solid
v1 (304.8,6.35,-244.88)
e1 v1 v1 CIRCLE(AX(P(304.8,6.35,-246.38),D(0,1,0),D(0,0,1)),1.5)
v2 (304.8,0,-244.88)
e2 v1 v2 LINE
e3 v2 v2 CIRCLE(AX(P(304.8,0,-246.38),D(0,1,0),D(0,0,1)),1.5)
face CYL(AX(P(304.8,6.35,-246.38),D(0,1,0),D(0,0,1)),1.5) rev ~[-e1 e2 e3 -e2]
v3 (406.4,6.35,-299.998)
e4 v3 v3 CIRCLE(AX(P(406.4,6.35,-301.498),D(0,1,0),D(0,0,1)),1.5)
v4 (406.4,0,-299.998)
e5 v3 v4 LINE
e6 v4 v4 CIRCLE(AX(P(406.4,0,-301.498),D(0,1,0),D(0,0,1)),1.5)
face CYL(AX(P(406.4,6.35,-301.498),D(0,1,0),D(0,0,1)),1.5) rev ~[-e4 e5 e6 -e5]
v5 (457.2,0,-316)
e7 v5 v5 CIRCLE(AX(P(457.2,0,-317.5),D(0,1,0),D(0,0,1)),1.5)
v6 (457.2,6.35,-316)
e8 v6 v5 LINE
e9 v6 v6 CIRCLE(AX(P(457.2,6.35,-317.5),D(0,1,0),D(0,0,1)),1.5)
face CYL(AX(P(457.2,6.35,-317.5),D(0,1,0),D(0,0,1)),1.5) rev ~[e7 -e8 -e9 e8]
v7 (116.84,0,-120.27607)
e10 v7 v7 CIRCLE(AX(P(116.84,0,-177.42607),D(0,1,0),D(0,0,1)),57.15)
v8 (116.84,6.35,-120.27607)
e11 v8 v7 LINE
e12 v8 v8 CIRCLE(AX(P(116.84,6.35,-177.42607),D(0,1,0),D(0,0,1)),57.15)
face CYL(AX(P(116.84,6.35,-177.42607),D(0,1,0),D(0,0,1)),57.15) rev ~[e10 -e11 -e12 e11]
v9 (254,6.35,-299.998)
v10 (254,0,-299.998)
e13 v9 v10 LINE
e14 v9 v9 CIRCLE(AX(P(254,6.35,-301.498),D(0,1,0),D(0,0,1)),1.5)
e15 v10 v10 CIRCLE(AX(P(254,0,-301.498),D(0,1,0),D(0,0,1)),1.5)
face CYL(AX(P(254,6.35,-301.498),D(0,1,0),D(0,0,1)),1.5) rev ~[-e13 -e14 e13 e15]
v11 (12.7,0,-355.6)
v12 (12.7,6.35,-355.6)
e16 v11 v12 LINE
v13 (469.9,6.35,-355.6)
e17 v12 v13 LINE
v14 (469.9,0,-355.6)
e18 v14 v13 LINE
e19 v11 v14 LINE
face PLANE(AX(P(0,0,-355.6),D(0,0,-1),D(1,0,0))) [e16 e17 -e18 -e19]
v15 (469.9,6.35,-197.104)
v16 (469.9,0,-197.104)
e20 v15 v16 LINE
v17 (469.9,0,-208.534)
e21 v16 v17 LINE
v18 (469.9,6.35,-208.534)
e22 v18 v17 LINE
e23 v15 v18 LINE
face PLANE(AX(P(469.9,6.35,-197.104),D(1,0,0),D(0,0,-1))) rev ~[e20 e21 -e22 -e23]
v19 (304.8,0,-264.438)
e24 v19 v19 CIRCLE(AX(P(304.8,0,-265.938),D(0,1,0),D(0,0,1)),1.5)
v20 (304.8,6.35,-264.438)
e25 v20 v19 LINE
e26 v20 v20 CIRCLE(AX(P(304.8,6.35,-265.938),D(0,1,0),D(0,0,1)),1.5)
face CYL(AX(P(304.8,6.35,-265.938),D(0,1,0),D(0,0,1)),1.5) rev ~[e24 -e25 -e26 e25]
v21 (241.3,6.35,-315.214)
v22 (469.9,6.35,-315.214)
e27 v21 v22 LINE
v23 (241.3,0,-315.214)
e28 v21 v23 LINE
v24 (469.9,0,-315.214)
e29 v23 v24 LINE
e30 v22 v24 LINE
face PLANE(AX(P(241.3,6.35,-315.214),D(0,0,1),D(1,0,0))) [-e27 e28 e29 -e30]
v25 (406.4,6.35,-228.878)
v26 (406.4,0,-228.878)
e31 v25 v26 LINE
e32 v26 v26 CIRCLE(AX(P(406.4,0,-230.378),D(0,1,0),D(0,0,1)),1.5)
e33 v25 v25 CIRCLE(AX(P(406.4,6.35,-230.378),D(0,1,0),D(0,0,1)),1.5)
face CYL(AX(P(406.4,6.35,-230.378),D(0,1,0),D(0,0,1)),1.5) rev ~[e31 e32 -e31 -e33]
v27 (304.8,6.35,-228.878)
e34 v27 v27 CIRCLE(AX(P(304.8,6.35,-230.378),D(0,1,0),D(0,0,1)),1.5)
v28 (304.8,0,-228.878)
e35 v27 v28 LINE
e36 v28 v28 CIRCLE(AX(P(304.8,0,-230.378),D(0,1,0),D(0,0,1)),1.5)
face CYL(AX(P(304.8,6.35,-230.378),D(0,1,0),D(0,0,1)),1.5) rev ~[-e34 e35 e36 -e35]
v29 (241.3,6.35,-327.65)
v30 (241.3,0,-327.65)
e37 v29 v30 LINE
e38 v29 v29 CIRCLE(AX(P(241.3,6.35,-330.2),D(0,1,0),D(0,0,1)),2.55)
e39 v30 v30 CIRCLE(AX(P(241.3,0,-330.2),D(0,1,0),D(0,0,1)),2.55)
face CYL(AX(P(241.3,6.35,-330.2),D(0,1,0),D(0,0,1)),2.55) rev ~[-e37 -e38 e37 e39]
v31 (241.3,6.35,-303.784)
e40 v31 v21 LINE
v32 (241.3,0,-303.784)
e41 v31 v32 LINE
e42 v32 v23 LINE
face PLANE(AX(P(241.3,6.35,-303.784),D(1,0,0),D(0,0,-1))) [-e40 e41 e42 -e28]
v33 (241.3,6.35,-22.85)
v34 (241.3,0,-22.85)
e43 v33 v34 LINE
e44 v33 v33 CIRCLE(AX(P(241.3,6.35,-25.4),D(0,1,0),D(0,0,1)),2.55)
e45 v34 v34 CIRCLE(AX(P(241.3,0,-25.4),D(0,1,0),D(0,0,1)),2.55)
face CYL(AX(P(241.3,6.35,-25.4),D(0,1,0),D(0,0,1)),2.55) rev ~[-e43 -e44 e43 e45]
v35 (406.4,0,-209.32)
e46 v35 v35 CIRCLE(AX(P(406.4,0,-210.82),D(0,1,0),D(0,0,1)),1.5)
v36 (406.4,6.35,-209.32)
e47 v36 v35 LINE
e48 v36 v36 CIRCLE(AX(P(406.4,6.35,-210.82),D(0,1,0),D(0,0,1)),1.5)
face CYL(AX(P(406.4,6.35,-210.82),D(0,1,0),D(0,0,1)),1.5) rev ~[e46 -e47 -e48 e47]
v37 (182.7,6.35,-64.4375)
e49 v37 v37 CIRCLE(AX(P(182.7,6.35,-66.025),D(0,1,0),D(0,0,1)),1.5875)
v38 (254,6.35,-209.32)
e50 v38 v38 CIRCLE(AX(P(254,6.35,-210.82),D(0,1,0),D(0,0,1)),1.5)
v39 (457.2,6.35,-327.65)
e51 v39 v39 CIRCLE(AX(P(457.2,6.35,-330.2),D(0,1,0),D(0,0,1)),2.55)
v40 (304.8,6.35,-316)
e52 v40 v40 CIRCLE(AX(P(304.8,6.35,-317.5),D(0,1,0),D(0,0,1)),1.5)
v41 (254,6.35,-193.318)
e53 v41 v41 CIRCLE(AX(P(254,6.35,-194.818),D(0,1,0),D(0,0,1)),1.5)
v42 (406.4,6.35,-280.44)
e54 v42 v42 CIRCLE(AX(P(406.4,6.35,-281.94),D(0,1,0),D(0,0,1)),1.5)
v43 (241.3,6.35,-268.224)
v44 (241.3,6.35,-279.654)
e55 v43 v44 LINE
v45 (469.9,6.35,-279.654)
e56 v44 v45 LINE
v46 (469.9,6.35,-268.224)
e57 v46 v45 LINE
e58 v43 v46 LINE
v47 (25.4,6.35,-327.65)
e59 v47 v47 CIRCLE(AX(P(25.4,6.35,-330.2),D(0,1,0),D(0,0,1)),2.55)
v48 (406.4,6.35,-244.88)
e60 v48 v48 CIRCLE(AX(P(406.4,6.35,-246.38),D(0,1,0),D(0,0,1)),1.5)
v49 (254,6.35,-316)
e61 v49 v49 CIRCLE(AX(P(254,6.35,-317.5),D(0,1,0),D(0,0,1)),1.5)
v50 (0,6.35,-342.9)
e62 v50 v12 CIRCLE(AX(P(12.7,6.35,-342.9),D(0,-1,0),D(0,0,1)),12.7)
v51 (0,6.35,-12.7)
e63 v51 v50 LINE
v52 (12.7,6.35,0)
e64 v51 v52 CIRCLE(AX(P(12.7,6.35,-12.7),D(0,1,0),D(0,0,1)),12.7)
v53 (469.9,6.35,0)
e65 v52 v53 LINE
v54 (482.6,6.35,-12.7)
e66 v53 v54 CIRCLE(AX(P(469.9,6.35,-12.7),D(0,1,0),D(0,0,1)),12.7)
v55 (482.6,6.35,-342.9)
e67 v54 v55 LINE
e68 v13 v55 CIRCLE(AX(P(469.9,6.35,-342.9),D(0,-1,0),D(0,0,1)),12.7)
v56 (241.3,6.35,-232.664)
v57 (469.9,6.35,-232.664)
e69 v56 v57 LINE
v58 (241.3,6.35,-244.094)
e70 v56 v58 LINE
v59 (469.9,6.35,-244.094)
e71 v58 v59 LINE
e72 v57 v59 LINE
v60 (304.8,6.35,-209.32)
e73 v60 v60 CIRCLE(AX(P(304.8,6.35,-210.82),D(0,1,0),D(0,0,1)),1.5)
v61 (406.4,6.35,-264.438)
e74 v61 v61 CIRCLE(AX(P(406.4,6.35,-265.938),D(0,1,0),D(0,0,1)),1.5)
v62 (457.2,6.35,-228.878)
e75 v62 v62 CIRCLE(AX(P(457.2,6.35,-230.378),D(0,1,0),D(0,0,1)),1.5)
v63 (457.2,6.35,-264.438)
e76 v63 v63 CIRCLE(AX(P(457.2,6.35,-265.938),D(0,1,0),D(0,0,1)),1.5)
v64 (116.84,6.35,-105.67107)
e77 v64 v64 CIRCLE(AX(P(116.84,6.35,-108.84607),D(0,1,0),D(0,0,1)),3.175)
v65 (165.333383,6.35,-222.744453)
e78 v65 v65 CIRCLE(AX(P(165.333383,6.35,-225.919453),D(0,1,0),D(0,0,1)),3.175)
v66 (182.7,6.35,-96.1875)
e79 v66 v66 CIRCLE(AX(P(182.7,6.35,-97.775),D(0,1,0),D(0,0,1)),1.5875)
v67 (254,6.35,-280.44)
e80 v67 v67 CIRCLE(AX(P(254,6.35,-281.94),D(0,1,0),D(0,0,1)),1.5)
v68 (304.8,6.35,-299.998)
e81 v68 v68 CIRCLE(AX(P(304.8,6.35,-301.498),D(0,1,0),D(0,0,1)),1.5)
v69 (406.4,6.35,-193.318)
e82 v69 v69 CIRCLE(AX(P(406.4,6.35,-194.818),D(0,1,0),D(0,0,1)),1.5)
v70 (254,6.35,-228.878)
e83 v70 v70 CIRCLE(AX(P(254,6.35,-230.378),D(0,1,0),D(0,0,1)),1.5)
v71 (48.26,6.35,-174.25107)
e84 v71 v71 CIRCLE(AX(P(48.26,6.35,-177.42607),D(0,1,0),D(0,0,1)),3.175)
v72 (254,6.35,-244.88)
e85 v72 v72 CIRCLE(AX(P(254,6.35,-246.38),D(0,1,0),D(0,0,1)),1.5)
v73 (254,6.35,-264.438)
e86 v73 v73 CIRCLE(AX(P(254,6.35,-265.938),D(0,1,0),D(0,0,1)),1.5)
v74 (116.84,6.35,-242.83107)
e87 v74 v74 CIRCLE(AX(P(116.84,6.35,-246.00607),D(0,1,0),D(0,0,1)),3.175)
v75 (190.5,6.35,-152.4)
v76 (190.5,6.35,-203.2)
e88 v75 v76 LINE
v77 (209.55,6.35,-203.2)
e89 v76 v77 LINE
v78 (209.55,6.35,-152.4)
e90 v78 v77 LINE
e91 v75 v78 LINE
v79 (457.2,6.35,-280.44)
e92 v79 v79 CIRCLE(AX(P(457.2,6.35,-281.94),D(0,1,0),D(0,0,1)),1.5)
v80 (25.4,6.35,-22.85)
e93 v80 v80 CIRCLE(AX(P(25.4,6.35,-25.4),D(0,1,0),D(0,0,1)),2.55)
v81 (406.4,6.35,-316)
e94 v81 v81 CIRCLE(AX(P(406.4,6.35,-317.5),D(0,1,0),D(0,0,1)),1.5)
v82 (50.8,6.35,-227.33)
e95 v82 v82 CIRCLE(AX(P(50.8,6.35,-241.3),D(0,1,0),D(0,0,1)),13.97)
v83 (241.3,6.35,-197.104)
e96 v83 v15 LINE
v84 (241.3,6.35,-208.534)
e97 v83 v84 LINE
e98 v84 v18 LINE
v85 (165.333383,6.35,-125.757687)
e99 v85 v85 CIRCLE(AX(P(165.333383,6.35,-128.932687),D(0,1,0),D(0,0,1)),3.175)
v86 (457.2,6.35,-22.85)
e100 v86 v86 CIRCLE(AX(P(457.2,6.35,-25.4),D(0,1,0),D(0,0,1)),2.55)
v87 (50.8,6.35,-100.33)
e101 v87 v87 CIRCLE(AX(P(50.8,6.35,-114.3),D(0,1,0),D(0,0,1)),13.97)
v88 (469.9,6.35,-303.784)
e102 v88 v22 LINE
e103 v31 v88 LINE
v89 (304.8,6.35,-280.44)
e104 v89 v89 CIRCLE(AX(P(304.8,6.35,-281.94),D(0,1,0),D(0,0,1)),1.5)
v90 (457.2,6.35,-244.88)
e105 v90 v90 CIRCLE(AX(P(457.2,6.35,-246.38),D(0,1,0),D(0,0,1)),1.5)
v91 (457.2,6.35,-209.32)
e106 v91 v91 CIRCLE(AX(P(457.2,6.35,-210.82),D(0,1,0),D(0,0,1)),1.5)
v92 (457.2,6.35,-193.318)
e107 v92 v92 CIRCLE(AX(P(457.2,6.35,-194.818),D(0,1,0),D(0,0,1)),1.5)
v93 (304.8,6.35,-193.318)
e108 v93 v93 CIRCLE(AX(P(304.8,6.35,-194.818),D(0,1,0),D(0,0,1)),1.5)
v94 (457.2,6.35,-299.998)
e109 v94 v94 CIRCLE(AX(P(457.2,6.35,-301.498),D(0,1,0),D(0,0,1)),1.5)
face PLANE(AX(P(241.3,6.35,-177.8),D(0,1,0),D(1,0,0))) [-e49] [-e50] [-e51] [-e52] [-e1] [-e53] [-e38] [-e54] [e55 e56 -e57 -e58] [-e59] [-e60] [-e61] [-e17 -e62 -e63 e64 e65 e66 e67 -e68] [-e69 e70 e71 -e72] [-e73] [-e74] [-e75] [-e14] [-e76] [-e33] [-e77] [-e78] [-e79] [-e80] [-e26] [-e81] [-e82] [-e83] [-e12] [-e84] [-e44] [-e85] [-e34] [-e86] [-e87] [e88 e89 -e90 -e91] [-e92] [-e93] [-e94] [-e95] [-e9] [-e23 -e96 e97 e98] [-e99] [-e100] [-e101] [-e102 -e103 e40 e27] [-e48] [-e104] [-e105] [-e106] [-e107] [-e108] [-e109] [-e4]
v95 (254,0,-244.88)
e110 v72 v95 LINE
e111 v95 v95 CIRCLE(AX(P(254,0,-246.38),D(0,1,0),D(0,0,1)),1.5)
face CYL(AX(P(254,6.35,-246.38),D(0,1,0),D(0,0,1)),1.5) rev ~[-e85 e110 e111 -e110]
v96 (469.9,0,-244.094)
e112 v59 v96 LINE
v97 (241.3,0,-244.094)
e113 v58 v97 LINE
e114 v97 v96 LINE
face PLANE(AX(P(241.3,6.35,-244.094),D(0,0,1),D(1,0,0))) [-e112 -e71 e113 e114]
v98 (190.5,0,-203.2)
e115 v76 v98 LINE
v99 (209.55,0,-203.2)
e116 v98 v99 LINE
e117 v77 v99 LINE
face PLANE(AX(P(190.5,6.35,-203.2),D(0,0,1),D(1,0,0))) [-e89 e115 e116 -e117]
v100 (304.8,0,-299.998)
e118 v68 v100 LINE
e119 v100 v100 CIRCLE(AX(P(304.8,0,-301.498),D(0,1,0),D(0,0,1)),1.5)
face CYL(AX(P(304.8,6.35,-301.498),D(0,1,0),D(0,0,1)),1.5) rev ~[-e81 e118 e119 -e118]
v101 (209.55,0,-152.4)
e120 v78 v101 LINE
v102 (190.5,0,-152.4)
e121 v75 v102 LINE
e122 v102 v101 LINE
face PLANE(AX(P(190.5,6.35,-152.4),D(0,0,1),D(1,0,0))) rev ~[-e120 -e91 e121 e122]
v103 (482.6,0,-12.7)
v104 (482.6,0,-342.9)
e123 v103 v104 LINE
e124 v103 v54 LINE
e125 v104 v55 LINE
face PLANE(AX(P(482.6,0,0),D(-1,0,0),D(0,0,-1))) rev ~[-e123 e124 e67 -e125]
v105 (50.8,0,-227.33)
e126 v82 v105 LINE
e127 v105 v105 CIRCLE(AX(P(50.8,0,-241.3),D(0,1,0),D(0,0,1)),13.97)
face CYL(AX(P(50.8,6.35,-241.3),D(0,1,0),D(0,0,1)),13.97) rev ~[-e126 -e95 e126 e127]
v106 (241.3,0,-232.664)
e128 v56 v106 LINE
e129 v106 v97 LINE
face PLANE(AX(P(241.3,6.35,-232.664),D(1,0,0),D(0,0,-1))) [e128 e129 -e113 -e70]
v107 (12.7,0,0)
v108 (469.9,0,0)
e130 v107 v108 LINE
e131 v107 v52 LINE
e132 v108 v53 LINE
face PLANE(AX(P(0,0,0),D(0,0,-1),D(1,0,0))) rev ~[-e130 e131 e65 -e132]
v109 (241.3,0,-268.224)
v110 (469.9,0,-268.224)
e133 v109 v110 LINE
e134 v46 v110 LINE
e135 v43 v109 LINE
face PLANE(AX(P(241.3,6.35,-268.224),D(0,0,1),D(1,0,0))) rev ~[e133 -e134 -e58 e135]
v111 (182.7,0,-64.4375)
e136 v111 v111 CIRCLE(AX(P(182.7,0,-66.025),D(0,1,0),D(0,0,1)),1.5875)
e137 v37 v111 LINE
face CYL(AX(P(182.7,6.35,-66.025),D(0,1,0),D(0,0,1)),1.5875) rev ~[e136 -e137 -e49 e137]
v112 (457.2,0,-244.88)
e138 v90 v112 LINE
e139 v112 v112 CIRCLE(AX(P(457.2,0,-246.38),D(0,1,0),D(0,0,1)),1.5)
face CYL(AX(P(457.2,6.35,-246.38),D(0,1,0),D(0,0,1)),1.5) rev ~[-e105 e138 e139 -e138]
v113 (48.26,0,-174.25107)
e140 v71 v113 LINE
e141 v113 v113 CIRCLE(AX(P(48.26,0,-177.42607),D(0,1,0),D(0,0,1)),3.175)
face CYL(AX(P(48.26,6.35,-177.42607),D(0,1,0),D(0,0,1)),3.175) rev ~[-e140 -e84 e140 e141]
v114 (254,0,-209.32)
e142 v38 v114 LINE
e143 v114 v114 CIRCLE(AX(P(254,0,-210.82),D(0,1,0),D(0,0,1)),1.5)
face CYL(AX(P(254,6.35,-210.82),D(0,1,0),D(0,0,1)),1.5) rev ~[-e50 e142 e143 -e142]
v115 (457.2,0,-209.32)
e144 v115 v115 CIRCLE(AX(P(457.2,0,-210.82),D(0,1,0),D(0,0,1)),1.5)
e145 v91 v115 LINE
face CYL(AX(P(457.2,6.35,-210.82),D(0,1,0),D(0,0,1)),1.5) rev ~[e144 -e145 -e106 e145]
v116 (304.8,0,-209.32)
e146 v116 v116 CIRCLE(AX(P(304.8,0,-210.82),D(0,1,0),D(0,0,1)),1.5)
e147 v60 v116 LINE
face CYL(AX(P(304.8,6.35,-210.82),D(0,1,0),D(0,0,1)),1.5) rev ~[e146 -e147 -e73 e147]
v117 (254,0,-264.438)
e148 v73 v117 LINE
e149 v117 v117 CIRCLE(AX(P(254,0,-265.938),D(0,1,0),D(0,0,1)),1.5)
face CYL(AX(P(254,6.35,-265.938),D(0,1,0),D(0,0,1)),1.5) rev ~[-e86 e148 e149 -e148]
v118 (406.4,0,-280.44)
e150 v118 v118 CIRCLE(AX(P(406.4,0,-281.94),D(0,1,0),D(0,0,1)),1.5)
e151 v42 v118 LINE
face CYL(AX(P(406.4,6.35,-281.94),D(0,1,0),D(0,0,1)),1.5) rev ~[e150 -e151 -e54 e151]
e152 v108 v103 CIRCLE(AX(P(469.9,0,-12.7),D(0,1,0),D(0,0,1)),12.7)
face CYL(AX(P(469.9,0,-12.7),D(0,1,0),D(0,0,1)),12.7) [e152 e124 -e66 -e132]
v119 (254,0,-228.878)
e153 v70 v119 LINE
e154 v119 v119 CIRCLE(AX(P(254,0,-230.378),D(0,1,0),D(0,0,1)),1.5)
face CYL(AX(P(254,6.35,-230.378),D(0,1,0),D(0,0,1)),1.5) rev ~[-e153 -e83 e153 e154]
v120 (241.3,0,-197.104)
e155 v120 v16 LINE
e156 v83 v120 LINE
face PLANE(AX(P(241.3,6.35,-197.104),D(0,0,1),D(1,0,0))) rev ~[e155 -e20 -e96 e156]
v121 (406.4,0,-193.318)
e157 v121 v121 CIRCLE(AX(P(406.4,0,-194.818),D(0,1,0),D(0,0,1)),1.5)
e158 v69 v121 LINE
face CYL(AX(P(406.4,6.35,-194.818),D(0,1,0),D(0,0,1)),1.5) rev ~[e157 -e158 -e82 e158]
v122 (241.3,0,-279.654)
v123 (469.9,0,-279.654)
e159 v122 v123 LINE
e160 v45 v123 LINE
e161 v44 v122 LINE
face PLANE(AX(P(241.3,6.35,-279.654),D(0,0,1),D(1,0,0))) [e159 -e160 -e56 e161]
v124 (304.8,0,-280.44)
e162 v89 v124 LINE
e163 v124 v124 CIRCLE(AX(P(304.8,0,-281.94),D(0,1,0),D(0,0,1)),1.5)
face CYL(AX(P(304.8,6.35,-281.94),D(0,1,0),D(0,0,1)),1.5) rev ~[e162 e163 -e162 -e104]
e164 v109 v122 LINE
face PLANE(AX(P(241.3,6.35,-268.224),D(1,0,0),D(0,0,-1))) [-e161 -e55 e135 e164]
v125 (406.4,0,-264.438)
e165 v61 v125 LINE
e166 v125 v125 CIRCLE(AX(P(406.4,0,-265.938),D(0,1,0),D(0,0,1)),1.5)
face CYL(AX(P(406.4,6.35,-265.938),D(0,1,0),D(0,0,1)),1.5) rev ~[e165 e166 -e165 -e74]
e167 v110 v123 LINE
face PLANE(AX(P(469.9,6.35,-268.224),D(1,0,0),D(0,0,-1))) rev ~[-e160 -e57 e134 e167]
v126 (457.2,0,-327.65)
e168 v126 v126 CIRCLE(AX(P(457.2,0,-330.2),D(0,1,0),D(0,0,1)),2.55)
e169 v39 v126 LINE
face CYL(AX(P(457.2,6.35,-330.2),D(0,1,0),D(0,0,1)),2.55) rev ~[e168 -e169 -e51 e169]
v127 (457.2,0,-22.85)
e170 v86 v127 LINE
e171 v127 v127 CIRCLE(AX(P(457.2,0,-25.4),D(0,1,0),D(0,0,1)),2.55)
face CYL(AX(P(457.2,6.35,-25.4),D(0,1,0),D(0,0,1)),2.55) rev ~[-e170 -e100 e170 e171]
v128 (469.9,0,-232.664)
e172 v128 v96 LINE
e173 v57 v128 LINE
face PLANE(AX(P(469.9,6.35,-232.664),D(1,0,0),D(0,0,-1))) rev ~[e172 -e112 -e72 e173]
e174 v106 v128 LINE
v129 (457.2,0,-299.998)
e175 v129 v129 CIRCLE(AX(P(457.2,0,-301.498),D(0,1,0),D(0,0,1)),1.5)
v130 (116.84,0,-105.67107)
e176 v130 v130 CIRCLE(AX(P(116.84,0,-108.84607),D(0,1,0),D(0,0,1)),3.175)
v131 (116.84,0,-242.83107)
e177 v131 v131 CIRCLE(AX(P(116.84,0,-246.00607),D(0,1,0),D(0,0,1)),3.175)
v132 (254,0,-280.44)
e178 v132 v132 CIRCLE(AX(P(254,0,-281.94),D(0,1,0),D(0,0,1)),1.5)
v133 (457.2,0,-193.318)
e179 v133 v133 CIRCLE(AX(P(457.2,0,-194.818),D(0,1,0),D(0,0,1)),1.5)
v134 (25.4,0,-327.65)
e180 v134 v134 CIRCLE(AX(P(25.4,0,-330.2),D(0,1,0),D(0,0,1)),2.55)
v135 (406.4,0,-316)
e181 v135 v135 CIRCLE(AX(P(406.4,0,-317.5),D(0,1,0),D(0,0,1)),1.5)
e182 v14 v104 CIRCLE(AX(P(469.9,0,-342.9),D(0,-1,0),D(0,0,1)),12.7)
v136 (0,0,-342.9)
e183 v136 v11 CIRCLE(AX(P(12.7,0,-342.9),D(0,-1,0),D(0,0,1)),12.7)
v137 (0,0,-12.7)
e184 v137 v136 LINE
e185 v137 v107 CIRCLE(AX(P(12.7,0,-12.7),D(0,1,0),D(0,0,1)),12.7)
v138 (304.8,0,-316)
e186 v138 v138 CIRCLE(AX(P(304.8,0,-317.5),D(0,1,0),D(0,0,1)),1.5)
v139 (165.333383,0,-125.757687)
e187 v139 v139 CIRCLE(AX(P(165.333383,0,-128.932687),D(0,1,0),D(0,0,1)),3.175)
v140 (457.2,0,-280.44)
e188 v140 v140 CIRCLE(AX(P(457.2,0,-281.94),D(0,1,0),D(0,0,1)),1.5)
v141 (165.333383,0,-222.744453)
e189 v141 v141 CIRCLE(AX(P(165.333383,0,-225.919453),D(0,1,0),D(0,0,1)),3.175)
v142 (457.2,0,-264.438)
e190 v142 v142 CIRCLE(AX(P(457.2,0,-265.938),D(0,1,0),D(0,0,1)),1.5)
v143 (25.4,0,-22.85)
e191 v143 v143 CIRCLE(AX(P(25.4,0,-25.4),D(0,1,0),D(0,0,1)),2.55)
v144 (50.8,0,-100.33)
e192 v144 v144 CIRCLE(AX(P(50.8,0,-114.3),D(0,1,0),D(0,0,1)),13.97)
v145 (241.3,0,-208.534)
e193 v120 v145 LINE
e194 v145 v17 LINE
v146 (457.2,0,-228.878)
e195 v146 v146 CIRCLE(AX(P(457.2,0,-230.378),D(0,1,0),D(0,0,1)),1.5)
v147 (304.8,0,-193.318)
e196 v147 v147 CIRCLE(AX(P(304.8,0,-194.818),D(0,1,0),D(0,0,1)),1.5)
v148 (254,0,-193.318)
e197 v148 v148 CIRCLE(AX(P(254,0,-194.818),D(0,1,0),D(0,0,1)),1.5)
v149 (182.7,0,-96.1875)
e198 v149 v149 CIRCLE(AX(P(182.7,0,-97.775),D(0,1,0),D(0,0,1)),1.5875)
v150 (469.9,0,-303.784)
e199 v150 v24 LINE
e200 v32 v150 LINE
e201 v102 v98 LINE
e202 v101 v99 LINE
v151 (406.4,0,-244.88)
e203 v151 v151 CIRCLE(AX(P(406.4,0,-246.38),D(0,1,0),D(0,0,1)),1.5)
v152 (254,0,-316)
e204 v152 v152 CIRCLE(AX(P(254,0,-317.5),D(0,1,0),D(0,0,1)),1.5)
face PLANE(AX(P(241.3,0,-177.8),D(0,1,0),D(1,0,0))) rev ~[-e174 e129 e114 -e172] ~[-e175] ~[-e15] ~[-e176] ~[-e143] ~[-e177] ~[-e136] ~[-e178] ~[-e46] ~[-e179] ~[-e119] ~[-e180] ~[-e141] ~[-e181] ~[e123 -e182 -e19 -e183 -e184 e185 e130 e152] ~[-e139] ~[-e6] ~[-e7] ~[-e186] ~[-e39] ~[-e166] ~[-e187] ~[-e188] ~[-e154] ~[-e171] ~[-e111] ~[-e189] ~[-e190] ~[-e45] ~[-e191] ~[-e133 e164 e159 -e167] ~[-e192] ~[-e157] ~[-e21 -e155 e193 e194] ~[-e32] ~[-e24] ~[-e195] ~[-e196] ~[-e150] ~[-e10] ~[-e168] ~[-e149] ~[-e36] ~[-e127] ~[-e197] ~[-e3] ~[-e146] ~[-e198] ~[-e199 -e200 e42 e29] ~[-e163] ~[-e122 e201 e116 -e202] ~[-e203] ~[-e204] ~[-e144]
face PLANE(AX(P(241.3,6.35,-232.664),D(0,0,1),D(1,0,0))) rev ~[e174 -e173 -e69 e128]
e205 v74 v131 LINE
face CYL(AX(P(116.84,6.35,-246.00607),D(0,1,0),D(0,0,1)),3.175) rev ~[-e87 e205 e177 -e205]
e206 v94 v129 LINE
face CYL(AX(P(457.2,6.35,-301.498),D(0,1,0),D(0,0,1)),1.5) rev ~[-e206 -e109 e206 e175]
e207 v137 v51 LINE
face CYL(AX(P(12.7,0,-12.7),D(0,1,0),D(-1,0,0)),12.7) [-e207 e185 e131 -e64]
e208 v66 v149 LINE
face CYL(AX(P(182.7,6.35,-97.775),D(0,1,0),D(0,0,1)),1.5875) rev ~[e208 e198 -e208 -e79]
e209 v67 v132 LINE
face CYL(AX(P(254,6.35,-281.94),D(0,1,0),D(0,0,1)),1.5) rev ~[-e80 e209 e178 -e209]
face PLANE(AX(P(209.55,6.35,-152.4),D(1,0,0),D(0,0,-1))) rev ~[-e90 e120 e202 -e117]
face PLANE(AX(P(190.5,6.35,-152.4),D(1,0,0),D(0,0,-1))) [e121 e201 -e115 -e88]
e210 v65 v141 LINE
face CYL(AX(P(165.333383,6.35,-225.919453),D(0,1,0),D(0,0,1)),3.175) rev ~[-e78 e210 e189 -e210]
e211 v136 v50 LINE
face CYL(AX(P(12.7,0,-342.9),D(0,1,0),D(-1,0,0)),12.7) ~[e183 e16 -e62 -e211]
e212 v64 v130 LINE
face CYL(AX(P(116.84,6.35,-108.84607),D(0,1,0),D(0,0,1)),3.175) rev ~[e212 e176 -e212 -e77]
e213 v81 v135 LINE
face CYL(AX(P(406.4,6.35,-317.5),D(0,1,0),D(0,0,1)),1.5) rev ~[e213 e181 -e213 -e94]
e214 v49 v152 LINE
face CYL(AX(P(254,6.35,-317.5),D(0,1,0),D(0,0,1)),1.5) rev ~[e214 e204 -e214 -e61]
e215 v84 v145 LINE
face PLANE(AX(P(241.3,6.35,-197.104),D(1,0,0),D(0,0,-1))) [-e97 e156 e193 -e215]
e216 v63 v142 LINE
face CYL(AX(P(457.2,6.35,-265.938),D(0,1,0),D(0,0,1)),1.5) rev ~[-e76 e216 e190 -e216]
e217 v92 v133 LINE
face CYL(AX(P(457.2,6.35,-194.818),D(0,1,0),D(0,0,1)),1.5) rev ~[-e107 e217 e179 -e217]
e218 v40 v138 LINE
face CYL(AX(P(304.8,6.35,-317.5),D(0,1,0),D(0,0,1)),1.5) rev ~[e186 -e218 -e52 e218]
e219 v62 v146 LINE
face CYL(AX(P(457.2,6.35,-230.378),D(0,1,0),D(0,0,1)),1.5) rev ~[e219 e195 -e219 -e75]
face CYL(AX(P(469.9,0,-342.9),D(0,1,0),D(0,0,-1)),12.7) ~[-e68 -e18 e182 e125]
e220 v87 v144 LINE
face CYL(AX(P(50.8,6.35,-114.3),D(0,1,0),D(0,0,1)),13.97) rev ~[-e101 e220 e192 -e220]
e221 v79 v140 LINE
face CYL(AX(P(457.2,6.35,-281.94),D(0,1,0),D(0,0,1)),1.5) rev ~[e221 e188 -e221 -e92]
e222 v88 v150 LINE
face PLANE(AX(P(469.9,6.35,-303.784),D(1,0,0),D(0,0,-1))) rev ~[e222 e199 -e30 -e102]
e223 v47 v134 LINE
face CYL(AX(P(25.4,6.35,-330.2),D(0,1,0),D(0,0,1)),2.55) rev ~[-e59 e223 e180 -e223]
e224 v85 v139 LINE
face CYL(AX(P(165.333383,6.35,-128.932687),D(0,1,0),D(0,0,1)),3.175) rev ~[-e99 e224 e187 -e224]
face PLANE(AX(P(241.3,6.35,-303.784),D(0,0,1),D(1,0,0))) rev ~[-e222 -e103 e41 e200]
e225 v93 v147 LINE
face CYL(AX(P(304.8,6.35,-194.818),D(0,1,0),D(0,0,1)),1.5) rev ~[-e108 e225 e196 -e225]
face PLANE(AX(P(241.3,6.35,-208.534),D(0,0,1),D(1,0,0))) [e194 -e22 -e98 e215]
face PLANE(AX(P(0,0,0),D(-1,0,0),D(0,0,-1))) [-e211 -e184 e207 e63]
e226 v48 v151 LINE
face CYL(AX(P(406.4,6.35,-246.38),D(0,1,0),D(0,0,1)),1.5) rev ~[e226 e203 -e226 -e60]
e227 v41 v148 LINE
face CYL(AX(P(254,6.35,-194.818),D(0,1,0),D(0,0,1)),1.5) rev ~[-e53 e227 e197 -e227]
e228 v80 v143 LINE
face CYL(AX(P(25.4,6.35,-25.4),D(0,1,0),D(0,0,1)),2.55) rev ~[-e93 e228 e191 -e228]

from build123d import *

# Parameters (mm, degrees)
SKETCH1_W           = 482.6
SKETCH1_H           = 355.6
BOSS_EXTRUDE1_DEPTH = 6.35
SKETCH2_R           = 2.55
CUT_EXTRUDE1_DEPTH  = 600.495156361
FILLET1_R           = 12.7
SKETCH5_R           = 1.5
CUT_EXTRUDE4_DEPTH  = 600.495156361
SKETCH8_W           = 19.05
SKETCH8_H           = 50.8
CUT_EXTRUDE7_DEPTH  = 63.5
CUT_EXTRUDE9_DEPTH  = 6.35
SKETCH12_R          = 14
SKETCH12_W          = 12.7
SKETCH12_H          = 10.884798806
CUT_EXTRUDE11_DEPTH = 63.5
SKETCH13_W          = 220.004592511
SKETCH13_H          = 264.065052174
BOSS_EXTRUDE2_DEPTH = 6.35
SKETCH15_R          = 13.97
CUT_EXTRUDE13_DEPTH = 600.495156361
LPATTERN1_COUNT     = 4
LPATTERN1_PITCH     = 35.56
SKETCH17_W          = 228.6
SKETCH17_H          = 11.43
CUT_EXTRUDE14_DEPTH = 600.495156361
SKETCH18_W          = 19.05
SKETCH18_H          = 50.8
CUT_EXTRUDE15_DEPTH = 600.495156361
SKETCH19_R          = 1.5875
CUT_EXTRUDE16_DEPTH = 600.495156361
SKETCH20_R          = 57.15
CUT_EXTRUDE17_DEPTH = 600.495156361
SKETCH21_R          = 3.175
CUT_EXTRUDE18_DEPTH = 600.495156361


with BuildPart() as part:
    # Sketch1 → Boss-Extrude1 (new body)
    with BuildSketch(Plane(origin=(0, 0, 0), x_dir=(1, 0, 0), z_dir=(0, 1, 0))):
        with Locations((241.3, 177.8)):
            Rectangle(SKETCH1_W, SKETCH1_H)
    extrude(amount=BOSS_EXTRUDE1_DEPTH)

    # Sketch2 → Cut-Extrude1 (cut, through all)
    with BuildSketch(Plane(origin=(0, 6.35, 0), x_dir=(1, 0, 0), z_dir=(0, 1, 0))):
        with Locations(Location((25.4, 330.2, 0), (0, 0, 270))):
            Circle(SKETCH2_R)
        with Locations(Location((241.3, 330.2, 0), (0, 0, 270))):
            Circle(SKETCH2_R)
        with Locations(Location((457.2, 330.2, 0), (0, 0, 270))):
            Circle(SKETCH2_R)
        with Locations(Location((241.3, 25.4, 0), (0, 0, 270))):
            Circle(SKETCH2_R)
        with Locations(Location((457.2, 25.4, 0), (0, 0, 270))):
            Circle(SKETCH2_R)
        with Locations(Location((25.4, 25.4, 0), (0, 0, 270))):
            Circle(SKETCH2_R)
    extrude(amount=-CUT_EXTRUDE1_DEPTH, mode=Mode.SUBTRACT)

    # Fillet1
    fillet1_edges = [part.edges().sort_by_distance(p)[0] for p in [
        (0, 3.175, -355.6),
        (482.6, 3.175, -355.6),
        (482.6, 3.175, 0),
        (0, 3.175, 0),
    ]]
    fillet(fillet1_edges, radius=FILLET1_R)

    # Sketch5 → Cut-Extrude4 (cut, through all)
    with BuildSketch(Plane(origin=(0, 6.35, 0), x_dir=(1, 0, 0), z_dir=(0, 1, 0))):
        with Locations(Location((254, 317.5, 0), (0, 0, 270))):
            Circle(SKETCH5_R)
        with Locations(Location((304.8, 317.5, 0), (0, 0, 270))):
            Circle(SKETCH5_R)
        with Locations(Location((406.4, 317.5, 0), (0, 0, 270))):
            Circle(SKETCH5_R)
        with Locations(Location((457.2, 317.5, 0), (0, 0, 270))):
            Circle(SKETCH5_R)
        with Locations(Location((304.8, 301.498, 0), (0, 0, 270))):
            Circle(SKETCH5_R)
        with Locations(Location((406.4, 301.498, 0), (0, 0, 270))):
            Circle(SKETCH5_R)
        with Locations(Location((457.2, 301.498, 0), (0, 0, 270))):
            Circle(SKETCH5_R)
        with Locations(Location((254, 301.498, 0), (0, 0, 270))):
            Circle(SKETCH5_R)
    cut_extrude4 = extrude(amount=-CUT_EXTRUDE4_DEPTH, mode=Mode.SUBTRACT)

    # Sketch8 → Cut-Extrude7 (cut, symmetric)
    with BuildSketch(Plane(origin=(0, 6.35, 0), x_dir=(1, 0, 0), z_dir=(0, 1, 0))):
        with Locations((200.025, 177.8)):
            Rectangle(SKETCH8_W, SKETCH8_H)
    extrude(amount=CUT_EXTRUDE7_DEPTH, both=True, mode=Mode.SUBTRACT)

    # Sketch10 → Cut-Extrude9 (cut)
    with BuildSketch(Plane(origin=(0, 6.35, 0), x_dir=(1, 0, 0), z_dir=(0, 1, 0))):
        Polygon((109.7915, 301.9425), (20.8788, 301.9425), (20.8788, 297.4467), (25.4, 297.4467), (25.4, 58.1533), (20.8788, 58.1533), (20.8788, 53.6575), (109.7915, 53.6575), (109.7915, 58.1533), (29.8958, 58.1533), (29.8958, 297.4467), (109.7915, 297.4467), align=None)
        Polygon((224.1042, 301.9425), (135.1915, 301.9425), (135.1915, 297.4467), (215.0872, 297.4467), (215.0872, 190.5), (219.583, 190.5), (219.583, 297.4467), (224.1042, 297.4467), align=None)
        Polygon((219.583, 165.1), (215.0872, 165.1), (215.0872, 58.1533), (135.1915, 58.1533), (135.1915, 53.6575), (224.1042, 53.6575), (224.1042, 58.1533), (219.583, 58.1533), align=None)
    extrude(amount=-CUT_EXTRUDE9_DEPTH, mode=Mode.SUBTRACT)

    # Sketch12 → Cut-Extrude11 (cut, symmetric)
    with BuildSketch(Plane(origin=(0, 6.35, 0), x_dir=(1, 0, 0), z_dir=(0, 1, 0))):
        with Locations((50.8, 241.3)):
            Circle(SKETCH12_R)
        with Locations((50.8, 114.3)):
            Circle(SKETCH12_R)
        with Locations((70.04884835, 241.3)):
            Rectangle(SKETCH12_W, SKETCH12_H)
        with Locations((70.04884835, 114.3)):
            Rectangle(SKETCH12_W, SKETCH12_H)
    extrude(amount=CUT_EXTRUDE11_DEPTH, both=True, mode=Mode.SUBTRACT)

    # Sketch13 → Boss-Extrude2 (add)
    with BuildSketch(Plane(origin=(0, 6.35, 0), x_dir=(1, 0, 0), z_dir=(0, 1, 0))):
        with Locations((121.094975677, 181.991146523)):
            Rectangle(SKETCH13_W, SKETCH13_H)
    extrude(amount=-BOSS_EXTRUDE2_DEPTH)

    # Sketch15 → Cut-Extrude13 (cut, through all)
    with BuildSketch(Plane(origin=(0, 6.35, 0), x_dir=(1, 0, 0), z_dir=(0, 1, 0))):
        with Locations(Location((50.8, 241.3, 0), (0, 0, 270))):
            Circle(SKETCH15_R)
        with Locations(Location((50.8, 114.3, 0), (0, 0, 270))):
            Circle(SKETCH15_R)
    extrude(amount=-CUT_EXTRUDE13_DEPTH, mode=Mode.SUBTRACT)

    # LPattern1: Cut-Extrude4 ×4
    with Locations(*[(0, 0, i * LPATTERN1_PITCH) for i in range(1, LPATTERN1_COUNT)]):
        add(cut_extrude4, mode=Mode.SUBTRACT)

    # Sketch17 → Cut-Extrude14 (cut, through all)
    with BuildSketch(Plane(origin=(0, 6.35, 0), x_dir=(1, 0, 0), z_dir=(0, 1, 0))):
        with Locations((355.6, 309.499)):
            Rectangle(SKETCH17_W, SKETCH17_H)
        with Locations((355.6, 273.939)):
            Rectangle(SKETCH17_W, SKETCH17_H)
        with Locations((355.6, 238.379)):
            Rectangle(SKETCH17_W, SKETCH17_H)
        with Locations((355.6, 202.819)):
            Rectangle(SKETCH17_W, SKETCH17_H)
    extrude(amount=-CUT_EXTRUDE14_DEPTH, mode=Mode.SUBTRACT)

    # Sketch18 → Cut-Extrude15 (cut, through all)
    with BuildSketch(Plane(origin=(0, 6.35, 0), x_dir=(1, 0, 0), z_dir=(0, 1, 0))):
        with Locations((200.025, 177.8)):
            Rectangle(SKETCH18_W, SKETCH18_H)
    extrude(amount=-CUT_EXTRUDE15_DEPTH, mode=Mode.SUBTRACT)

    # Sketch19 → Cut-Extrude16 (cut, through all)
    with BuildSketch(Plane(origin=(0, 6.35, 0), x_dir=(1, 0, 0), z_dir=(0, 1, 0))):
        with Locations(Location((182.7, 97.775, 0), (0, 0, 270))):
            Circle(SKETCH19_R)
        with Locations(Location((182.7, 66.025, 0), (0, 0, 270))):
            Circle(SKETCH19_R)
    extrude(amount=-CUT_EXTRUDE16_DEPTH, mode=Mode.SUBTRACT)

    # Sketch20 → Cut-Extrude17 (cut, through all)
    with BuildSketch(Plane(origin=(0, 6.35, 0), x_dir=(1, 0, 0), z_dir=(0, 1, 0))):
        with Locations(Location((116.84, 177.426070104, 0), (0, 0, 270))):
            Circle(SKETCH20_R)
    extrude(amount=-CUT_EXTRUDE17_DEPTH, mode=Mode.SUBTRACT)

    # Sketch21 → Cut-Extrude18 (cut, through all)
    with BuildSketch(Plane(origin=(0, 6.35, 0), x_dir=(1, 0, 0), z_dir=(0, 1, 0))):
        with Locations(Location((116.84, 246.006070104, 0), (0, 0, 270))):
            Circle(SKETCH21_R)
        with Locations(Location((48.26, 177.426070104, 0), (0, 0, 270))):
            Circle(SKETCH21_R)
        with Locations(Location((116.84, 108.846070104, 0), (0, 0, 270))):
            Circle(SKETCH21_R)
        with Locations(Location((165.333383054, 128.93268705, 0), (0, 0, 270))):
            Circle(SKETCH21_R)
        with Locations(Location((165.333383054, 225.919453158, 0), (0, 0, 270))):
            Circle(SKETCH21_R)
    extrude(amount=-CUT_EXTRUDE18_DEPTH, mode=Mode.SUBTRACT)


solid = part.part
